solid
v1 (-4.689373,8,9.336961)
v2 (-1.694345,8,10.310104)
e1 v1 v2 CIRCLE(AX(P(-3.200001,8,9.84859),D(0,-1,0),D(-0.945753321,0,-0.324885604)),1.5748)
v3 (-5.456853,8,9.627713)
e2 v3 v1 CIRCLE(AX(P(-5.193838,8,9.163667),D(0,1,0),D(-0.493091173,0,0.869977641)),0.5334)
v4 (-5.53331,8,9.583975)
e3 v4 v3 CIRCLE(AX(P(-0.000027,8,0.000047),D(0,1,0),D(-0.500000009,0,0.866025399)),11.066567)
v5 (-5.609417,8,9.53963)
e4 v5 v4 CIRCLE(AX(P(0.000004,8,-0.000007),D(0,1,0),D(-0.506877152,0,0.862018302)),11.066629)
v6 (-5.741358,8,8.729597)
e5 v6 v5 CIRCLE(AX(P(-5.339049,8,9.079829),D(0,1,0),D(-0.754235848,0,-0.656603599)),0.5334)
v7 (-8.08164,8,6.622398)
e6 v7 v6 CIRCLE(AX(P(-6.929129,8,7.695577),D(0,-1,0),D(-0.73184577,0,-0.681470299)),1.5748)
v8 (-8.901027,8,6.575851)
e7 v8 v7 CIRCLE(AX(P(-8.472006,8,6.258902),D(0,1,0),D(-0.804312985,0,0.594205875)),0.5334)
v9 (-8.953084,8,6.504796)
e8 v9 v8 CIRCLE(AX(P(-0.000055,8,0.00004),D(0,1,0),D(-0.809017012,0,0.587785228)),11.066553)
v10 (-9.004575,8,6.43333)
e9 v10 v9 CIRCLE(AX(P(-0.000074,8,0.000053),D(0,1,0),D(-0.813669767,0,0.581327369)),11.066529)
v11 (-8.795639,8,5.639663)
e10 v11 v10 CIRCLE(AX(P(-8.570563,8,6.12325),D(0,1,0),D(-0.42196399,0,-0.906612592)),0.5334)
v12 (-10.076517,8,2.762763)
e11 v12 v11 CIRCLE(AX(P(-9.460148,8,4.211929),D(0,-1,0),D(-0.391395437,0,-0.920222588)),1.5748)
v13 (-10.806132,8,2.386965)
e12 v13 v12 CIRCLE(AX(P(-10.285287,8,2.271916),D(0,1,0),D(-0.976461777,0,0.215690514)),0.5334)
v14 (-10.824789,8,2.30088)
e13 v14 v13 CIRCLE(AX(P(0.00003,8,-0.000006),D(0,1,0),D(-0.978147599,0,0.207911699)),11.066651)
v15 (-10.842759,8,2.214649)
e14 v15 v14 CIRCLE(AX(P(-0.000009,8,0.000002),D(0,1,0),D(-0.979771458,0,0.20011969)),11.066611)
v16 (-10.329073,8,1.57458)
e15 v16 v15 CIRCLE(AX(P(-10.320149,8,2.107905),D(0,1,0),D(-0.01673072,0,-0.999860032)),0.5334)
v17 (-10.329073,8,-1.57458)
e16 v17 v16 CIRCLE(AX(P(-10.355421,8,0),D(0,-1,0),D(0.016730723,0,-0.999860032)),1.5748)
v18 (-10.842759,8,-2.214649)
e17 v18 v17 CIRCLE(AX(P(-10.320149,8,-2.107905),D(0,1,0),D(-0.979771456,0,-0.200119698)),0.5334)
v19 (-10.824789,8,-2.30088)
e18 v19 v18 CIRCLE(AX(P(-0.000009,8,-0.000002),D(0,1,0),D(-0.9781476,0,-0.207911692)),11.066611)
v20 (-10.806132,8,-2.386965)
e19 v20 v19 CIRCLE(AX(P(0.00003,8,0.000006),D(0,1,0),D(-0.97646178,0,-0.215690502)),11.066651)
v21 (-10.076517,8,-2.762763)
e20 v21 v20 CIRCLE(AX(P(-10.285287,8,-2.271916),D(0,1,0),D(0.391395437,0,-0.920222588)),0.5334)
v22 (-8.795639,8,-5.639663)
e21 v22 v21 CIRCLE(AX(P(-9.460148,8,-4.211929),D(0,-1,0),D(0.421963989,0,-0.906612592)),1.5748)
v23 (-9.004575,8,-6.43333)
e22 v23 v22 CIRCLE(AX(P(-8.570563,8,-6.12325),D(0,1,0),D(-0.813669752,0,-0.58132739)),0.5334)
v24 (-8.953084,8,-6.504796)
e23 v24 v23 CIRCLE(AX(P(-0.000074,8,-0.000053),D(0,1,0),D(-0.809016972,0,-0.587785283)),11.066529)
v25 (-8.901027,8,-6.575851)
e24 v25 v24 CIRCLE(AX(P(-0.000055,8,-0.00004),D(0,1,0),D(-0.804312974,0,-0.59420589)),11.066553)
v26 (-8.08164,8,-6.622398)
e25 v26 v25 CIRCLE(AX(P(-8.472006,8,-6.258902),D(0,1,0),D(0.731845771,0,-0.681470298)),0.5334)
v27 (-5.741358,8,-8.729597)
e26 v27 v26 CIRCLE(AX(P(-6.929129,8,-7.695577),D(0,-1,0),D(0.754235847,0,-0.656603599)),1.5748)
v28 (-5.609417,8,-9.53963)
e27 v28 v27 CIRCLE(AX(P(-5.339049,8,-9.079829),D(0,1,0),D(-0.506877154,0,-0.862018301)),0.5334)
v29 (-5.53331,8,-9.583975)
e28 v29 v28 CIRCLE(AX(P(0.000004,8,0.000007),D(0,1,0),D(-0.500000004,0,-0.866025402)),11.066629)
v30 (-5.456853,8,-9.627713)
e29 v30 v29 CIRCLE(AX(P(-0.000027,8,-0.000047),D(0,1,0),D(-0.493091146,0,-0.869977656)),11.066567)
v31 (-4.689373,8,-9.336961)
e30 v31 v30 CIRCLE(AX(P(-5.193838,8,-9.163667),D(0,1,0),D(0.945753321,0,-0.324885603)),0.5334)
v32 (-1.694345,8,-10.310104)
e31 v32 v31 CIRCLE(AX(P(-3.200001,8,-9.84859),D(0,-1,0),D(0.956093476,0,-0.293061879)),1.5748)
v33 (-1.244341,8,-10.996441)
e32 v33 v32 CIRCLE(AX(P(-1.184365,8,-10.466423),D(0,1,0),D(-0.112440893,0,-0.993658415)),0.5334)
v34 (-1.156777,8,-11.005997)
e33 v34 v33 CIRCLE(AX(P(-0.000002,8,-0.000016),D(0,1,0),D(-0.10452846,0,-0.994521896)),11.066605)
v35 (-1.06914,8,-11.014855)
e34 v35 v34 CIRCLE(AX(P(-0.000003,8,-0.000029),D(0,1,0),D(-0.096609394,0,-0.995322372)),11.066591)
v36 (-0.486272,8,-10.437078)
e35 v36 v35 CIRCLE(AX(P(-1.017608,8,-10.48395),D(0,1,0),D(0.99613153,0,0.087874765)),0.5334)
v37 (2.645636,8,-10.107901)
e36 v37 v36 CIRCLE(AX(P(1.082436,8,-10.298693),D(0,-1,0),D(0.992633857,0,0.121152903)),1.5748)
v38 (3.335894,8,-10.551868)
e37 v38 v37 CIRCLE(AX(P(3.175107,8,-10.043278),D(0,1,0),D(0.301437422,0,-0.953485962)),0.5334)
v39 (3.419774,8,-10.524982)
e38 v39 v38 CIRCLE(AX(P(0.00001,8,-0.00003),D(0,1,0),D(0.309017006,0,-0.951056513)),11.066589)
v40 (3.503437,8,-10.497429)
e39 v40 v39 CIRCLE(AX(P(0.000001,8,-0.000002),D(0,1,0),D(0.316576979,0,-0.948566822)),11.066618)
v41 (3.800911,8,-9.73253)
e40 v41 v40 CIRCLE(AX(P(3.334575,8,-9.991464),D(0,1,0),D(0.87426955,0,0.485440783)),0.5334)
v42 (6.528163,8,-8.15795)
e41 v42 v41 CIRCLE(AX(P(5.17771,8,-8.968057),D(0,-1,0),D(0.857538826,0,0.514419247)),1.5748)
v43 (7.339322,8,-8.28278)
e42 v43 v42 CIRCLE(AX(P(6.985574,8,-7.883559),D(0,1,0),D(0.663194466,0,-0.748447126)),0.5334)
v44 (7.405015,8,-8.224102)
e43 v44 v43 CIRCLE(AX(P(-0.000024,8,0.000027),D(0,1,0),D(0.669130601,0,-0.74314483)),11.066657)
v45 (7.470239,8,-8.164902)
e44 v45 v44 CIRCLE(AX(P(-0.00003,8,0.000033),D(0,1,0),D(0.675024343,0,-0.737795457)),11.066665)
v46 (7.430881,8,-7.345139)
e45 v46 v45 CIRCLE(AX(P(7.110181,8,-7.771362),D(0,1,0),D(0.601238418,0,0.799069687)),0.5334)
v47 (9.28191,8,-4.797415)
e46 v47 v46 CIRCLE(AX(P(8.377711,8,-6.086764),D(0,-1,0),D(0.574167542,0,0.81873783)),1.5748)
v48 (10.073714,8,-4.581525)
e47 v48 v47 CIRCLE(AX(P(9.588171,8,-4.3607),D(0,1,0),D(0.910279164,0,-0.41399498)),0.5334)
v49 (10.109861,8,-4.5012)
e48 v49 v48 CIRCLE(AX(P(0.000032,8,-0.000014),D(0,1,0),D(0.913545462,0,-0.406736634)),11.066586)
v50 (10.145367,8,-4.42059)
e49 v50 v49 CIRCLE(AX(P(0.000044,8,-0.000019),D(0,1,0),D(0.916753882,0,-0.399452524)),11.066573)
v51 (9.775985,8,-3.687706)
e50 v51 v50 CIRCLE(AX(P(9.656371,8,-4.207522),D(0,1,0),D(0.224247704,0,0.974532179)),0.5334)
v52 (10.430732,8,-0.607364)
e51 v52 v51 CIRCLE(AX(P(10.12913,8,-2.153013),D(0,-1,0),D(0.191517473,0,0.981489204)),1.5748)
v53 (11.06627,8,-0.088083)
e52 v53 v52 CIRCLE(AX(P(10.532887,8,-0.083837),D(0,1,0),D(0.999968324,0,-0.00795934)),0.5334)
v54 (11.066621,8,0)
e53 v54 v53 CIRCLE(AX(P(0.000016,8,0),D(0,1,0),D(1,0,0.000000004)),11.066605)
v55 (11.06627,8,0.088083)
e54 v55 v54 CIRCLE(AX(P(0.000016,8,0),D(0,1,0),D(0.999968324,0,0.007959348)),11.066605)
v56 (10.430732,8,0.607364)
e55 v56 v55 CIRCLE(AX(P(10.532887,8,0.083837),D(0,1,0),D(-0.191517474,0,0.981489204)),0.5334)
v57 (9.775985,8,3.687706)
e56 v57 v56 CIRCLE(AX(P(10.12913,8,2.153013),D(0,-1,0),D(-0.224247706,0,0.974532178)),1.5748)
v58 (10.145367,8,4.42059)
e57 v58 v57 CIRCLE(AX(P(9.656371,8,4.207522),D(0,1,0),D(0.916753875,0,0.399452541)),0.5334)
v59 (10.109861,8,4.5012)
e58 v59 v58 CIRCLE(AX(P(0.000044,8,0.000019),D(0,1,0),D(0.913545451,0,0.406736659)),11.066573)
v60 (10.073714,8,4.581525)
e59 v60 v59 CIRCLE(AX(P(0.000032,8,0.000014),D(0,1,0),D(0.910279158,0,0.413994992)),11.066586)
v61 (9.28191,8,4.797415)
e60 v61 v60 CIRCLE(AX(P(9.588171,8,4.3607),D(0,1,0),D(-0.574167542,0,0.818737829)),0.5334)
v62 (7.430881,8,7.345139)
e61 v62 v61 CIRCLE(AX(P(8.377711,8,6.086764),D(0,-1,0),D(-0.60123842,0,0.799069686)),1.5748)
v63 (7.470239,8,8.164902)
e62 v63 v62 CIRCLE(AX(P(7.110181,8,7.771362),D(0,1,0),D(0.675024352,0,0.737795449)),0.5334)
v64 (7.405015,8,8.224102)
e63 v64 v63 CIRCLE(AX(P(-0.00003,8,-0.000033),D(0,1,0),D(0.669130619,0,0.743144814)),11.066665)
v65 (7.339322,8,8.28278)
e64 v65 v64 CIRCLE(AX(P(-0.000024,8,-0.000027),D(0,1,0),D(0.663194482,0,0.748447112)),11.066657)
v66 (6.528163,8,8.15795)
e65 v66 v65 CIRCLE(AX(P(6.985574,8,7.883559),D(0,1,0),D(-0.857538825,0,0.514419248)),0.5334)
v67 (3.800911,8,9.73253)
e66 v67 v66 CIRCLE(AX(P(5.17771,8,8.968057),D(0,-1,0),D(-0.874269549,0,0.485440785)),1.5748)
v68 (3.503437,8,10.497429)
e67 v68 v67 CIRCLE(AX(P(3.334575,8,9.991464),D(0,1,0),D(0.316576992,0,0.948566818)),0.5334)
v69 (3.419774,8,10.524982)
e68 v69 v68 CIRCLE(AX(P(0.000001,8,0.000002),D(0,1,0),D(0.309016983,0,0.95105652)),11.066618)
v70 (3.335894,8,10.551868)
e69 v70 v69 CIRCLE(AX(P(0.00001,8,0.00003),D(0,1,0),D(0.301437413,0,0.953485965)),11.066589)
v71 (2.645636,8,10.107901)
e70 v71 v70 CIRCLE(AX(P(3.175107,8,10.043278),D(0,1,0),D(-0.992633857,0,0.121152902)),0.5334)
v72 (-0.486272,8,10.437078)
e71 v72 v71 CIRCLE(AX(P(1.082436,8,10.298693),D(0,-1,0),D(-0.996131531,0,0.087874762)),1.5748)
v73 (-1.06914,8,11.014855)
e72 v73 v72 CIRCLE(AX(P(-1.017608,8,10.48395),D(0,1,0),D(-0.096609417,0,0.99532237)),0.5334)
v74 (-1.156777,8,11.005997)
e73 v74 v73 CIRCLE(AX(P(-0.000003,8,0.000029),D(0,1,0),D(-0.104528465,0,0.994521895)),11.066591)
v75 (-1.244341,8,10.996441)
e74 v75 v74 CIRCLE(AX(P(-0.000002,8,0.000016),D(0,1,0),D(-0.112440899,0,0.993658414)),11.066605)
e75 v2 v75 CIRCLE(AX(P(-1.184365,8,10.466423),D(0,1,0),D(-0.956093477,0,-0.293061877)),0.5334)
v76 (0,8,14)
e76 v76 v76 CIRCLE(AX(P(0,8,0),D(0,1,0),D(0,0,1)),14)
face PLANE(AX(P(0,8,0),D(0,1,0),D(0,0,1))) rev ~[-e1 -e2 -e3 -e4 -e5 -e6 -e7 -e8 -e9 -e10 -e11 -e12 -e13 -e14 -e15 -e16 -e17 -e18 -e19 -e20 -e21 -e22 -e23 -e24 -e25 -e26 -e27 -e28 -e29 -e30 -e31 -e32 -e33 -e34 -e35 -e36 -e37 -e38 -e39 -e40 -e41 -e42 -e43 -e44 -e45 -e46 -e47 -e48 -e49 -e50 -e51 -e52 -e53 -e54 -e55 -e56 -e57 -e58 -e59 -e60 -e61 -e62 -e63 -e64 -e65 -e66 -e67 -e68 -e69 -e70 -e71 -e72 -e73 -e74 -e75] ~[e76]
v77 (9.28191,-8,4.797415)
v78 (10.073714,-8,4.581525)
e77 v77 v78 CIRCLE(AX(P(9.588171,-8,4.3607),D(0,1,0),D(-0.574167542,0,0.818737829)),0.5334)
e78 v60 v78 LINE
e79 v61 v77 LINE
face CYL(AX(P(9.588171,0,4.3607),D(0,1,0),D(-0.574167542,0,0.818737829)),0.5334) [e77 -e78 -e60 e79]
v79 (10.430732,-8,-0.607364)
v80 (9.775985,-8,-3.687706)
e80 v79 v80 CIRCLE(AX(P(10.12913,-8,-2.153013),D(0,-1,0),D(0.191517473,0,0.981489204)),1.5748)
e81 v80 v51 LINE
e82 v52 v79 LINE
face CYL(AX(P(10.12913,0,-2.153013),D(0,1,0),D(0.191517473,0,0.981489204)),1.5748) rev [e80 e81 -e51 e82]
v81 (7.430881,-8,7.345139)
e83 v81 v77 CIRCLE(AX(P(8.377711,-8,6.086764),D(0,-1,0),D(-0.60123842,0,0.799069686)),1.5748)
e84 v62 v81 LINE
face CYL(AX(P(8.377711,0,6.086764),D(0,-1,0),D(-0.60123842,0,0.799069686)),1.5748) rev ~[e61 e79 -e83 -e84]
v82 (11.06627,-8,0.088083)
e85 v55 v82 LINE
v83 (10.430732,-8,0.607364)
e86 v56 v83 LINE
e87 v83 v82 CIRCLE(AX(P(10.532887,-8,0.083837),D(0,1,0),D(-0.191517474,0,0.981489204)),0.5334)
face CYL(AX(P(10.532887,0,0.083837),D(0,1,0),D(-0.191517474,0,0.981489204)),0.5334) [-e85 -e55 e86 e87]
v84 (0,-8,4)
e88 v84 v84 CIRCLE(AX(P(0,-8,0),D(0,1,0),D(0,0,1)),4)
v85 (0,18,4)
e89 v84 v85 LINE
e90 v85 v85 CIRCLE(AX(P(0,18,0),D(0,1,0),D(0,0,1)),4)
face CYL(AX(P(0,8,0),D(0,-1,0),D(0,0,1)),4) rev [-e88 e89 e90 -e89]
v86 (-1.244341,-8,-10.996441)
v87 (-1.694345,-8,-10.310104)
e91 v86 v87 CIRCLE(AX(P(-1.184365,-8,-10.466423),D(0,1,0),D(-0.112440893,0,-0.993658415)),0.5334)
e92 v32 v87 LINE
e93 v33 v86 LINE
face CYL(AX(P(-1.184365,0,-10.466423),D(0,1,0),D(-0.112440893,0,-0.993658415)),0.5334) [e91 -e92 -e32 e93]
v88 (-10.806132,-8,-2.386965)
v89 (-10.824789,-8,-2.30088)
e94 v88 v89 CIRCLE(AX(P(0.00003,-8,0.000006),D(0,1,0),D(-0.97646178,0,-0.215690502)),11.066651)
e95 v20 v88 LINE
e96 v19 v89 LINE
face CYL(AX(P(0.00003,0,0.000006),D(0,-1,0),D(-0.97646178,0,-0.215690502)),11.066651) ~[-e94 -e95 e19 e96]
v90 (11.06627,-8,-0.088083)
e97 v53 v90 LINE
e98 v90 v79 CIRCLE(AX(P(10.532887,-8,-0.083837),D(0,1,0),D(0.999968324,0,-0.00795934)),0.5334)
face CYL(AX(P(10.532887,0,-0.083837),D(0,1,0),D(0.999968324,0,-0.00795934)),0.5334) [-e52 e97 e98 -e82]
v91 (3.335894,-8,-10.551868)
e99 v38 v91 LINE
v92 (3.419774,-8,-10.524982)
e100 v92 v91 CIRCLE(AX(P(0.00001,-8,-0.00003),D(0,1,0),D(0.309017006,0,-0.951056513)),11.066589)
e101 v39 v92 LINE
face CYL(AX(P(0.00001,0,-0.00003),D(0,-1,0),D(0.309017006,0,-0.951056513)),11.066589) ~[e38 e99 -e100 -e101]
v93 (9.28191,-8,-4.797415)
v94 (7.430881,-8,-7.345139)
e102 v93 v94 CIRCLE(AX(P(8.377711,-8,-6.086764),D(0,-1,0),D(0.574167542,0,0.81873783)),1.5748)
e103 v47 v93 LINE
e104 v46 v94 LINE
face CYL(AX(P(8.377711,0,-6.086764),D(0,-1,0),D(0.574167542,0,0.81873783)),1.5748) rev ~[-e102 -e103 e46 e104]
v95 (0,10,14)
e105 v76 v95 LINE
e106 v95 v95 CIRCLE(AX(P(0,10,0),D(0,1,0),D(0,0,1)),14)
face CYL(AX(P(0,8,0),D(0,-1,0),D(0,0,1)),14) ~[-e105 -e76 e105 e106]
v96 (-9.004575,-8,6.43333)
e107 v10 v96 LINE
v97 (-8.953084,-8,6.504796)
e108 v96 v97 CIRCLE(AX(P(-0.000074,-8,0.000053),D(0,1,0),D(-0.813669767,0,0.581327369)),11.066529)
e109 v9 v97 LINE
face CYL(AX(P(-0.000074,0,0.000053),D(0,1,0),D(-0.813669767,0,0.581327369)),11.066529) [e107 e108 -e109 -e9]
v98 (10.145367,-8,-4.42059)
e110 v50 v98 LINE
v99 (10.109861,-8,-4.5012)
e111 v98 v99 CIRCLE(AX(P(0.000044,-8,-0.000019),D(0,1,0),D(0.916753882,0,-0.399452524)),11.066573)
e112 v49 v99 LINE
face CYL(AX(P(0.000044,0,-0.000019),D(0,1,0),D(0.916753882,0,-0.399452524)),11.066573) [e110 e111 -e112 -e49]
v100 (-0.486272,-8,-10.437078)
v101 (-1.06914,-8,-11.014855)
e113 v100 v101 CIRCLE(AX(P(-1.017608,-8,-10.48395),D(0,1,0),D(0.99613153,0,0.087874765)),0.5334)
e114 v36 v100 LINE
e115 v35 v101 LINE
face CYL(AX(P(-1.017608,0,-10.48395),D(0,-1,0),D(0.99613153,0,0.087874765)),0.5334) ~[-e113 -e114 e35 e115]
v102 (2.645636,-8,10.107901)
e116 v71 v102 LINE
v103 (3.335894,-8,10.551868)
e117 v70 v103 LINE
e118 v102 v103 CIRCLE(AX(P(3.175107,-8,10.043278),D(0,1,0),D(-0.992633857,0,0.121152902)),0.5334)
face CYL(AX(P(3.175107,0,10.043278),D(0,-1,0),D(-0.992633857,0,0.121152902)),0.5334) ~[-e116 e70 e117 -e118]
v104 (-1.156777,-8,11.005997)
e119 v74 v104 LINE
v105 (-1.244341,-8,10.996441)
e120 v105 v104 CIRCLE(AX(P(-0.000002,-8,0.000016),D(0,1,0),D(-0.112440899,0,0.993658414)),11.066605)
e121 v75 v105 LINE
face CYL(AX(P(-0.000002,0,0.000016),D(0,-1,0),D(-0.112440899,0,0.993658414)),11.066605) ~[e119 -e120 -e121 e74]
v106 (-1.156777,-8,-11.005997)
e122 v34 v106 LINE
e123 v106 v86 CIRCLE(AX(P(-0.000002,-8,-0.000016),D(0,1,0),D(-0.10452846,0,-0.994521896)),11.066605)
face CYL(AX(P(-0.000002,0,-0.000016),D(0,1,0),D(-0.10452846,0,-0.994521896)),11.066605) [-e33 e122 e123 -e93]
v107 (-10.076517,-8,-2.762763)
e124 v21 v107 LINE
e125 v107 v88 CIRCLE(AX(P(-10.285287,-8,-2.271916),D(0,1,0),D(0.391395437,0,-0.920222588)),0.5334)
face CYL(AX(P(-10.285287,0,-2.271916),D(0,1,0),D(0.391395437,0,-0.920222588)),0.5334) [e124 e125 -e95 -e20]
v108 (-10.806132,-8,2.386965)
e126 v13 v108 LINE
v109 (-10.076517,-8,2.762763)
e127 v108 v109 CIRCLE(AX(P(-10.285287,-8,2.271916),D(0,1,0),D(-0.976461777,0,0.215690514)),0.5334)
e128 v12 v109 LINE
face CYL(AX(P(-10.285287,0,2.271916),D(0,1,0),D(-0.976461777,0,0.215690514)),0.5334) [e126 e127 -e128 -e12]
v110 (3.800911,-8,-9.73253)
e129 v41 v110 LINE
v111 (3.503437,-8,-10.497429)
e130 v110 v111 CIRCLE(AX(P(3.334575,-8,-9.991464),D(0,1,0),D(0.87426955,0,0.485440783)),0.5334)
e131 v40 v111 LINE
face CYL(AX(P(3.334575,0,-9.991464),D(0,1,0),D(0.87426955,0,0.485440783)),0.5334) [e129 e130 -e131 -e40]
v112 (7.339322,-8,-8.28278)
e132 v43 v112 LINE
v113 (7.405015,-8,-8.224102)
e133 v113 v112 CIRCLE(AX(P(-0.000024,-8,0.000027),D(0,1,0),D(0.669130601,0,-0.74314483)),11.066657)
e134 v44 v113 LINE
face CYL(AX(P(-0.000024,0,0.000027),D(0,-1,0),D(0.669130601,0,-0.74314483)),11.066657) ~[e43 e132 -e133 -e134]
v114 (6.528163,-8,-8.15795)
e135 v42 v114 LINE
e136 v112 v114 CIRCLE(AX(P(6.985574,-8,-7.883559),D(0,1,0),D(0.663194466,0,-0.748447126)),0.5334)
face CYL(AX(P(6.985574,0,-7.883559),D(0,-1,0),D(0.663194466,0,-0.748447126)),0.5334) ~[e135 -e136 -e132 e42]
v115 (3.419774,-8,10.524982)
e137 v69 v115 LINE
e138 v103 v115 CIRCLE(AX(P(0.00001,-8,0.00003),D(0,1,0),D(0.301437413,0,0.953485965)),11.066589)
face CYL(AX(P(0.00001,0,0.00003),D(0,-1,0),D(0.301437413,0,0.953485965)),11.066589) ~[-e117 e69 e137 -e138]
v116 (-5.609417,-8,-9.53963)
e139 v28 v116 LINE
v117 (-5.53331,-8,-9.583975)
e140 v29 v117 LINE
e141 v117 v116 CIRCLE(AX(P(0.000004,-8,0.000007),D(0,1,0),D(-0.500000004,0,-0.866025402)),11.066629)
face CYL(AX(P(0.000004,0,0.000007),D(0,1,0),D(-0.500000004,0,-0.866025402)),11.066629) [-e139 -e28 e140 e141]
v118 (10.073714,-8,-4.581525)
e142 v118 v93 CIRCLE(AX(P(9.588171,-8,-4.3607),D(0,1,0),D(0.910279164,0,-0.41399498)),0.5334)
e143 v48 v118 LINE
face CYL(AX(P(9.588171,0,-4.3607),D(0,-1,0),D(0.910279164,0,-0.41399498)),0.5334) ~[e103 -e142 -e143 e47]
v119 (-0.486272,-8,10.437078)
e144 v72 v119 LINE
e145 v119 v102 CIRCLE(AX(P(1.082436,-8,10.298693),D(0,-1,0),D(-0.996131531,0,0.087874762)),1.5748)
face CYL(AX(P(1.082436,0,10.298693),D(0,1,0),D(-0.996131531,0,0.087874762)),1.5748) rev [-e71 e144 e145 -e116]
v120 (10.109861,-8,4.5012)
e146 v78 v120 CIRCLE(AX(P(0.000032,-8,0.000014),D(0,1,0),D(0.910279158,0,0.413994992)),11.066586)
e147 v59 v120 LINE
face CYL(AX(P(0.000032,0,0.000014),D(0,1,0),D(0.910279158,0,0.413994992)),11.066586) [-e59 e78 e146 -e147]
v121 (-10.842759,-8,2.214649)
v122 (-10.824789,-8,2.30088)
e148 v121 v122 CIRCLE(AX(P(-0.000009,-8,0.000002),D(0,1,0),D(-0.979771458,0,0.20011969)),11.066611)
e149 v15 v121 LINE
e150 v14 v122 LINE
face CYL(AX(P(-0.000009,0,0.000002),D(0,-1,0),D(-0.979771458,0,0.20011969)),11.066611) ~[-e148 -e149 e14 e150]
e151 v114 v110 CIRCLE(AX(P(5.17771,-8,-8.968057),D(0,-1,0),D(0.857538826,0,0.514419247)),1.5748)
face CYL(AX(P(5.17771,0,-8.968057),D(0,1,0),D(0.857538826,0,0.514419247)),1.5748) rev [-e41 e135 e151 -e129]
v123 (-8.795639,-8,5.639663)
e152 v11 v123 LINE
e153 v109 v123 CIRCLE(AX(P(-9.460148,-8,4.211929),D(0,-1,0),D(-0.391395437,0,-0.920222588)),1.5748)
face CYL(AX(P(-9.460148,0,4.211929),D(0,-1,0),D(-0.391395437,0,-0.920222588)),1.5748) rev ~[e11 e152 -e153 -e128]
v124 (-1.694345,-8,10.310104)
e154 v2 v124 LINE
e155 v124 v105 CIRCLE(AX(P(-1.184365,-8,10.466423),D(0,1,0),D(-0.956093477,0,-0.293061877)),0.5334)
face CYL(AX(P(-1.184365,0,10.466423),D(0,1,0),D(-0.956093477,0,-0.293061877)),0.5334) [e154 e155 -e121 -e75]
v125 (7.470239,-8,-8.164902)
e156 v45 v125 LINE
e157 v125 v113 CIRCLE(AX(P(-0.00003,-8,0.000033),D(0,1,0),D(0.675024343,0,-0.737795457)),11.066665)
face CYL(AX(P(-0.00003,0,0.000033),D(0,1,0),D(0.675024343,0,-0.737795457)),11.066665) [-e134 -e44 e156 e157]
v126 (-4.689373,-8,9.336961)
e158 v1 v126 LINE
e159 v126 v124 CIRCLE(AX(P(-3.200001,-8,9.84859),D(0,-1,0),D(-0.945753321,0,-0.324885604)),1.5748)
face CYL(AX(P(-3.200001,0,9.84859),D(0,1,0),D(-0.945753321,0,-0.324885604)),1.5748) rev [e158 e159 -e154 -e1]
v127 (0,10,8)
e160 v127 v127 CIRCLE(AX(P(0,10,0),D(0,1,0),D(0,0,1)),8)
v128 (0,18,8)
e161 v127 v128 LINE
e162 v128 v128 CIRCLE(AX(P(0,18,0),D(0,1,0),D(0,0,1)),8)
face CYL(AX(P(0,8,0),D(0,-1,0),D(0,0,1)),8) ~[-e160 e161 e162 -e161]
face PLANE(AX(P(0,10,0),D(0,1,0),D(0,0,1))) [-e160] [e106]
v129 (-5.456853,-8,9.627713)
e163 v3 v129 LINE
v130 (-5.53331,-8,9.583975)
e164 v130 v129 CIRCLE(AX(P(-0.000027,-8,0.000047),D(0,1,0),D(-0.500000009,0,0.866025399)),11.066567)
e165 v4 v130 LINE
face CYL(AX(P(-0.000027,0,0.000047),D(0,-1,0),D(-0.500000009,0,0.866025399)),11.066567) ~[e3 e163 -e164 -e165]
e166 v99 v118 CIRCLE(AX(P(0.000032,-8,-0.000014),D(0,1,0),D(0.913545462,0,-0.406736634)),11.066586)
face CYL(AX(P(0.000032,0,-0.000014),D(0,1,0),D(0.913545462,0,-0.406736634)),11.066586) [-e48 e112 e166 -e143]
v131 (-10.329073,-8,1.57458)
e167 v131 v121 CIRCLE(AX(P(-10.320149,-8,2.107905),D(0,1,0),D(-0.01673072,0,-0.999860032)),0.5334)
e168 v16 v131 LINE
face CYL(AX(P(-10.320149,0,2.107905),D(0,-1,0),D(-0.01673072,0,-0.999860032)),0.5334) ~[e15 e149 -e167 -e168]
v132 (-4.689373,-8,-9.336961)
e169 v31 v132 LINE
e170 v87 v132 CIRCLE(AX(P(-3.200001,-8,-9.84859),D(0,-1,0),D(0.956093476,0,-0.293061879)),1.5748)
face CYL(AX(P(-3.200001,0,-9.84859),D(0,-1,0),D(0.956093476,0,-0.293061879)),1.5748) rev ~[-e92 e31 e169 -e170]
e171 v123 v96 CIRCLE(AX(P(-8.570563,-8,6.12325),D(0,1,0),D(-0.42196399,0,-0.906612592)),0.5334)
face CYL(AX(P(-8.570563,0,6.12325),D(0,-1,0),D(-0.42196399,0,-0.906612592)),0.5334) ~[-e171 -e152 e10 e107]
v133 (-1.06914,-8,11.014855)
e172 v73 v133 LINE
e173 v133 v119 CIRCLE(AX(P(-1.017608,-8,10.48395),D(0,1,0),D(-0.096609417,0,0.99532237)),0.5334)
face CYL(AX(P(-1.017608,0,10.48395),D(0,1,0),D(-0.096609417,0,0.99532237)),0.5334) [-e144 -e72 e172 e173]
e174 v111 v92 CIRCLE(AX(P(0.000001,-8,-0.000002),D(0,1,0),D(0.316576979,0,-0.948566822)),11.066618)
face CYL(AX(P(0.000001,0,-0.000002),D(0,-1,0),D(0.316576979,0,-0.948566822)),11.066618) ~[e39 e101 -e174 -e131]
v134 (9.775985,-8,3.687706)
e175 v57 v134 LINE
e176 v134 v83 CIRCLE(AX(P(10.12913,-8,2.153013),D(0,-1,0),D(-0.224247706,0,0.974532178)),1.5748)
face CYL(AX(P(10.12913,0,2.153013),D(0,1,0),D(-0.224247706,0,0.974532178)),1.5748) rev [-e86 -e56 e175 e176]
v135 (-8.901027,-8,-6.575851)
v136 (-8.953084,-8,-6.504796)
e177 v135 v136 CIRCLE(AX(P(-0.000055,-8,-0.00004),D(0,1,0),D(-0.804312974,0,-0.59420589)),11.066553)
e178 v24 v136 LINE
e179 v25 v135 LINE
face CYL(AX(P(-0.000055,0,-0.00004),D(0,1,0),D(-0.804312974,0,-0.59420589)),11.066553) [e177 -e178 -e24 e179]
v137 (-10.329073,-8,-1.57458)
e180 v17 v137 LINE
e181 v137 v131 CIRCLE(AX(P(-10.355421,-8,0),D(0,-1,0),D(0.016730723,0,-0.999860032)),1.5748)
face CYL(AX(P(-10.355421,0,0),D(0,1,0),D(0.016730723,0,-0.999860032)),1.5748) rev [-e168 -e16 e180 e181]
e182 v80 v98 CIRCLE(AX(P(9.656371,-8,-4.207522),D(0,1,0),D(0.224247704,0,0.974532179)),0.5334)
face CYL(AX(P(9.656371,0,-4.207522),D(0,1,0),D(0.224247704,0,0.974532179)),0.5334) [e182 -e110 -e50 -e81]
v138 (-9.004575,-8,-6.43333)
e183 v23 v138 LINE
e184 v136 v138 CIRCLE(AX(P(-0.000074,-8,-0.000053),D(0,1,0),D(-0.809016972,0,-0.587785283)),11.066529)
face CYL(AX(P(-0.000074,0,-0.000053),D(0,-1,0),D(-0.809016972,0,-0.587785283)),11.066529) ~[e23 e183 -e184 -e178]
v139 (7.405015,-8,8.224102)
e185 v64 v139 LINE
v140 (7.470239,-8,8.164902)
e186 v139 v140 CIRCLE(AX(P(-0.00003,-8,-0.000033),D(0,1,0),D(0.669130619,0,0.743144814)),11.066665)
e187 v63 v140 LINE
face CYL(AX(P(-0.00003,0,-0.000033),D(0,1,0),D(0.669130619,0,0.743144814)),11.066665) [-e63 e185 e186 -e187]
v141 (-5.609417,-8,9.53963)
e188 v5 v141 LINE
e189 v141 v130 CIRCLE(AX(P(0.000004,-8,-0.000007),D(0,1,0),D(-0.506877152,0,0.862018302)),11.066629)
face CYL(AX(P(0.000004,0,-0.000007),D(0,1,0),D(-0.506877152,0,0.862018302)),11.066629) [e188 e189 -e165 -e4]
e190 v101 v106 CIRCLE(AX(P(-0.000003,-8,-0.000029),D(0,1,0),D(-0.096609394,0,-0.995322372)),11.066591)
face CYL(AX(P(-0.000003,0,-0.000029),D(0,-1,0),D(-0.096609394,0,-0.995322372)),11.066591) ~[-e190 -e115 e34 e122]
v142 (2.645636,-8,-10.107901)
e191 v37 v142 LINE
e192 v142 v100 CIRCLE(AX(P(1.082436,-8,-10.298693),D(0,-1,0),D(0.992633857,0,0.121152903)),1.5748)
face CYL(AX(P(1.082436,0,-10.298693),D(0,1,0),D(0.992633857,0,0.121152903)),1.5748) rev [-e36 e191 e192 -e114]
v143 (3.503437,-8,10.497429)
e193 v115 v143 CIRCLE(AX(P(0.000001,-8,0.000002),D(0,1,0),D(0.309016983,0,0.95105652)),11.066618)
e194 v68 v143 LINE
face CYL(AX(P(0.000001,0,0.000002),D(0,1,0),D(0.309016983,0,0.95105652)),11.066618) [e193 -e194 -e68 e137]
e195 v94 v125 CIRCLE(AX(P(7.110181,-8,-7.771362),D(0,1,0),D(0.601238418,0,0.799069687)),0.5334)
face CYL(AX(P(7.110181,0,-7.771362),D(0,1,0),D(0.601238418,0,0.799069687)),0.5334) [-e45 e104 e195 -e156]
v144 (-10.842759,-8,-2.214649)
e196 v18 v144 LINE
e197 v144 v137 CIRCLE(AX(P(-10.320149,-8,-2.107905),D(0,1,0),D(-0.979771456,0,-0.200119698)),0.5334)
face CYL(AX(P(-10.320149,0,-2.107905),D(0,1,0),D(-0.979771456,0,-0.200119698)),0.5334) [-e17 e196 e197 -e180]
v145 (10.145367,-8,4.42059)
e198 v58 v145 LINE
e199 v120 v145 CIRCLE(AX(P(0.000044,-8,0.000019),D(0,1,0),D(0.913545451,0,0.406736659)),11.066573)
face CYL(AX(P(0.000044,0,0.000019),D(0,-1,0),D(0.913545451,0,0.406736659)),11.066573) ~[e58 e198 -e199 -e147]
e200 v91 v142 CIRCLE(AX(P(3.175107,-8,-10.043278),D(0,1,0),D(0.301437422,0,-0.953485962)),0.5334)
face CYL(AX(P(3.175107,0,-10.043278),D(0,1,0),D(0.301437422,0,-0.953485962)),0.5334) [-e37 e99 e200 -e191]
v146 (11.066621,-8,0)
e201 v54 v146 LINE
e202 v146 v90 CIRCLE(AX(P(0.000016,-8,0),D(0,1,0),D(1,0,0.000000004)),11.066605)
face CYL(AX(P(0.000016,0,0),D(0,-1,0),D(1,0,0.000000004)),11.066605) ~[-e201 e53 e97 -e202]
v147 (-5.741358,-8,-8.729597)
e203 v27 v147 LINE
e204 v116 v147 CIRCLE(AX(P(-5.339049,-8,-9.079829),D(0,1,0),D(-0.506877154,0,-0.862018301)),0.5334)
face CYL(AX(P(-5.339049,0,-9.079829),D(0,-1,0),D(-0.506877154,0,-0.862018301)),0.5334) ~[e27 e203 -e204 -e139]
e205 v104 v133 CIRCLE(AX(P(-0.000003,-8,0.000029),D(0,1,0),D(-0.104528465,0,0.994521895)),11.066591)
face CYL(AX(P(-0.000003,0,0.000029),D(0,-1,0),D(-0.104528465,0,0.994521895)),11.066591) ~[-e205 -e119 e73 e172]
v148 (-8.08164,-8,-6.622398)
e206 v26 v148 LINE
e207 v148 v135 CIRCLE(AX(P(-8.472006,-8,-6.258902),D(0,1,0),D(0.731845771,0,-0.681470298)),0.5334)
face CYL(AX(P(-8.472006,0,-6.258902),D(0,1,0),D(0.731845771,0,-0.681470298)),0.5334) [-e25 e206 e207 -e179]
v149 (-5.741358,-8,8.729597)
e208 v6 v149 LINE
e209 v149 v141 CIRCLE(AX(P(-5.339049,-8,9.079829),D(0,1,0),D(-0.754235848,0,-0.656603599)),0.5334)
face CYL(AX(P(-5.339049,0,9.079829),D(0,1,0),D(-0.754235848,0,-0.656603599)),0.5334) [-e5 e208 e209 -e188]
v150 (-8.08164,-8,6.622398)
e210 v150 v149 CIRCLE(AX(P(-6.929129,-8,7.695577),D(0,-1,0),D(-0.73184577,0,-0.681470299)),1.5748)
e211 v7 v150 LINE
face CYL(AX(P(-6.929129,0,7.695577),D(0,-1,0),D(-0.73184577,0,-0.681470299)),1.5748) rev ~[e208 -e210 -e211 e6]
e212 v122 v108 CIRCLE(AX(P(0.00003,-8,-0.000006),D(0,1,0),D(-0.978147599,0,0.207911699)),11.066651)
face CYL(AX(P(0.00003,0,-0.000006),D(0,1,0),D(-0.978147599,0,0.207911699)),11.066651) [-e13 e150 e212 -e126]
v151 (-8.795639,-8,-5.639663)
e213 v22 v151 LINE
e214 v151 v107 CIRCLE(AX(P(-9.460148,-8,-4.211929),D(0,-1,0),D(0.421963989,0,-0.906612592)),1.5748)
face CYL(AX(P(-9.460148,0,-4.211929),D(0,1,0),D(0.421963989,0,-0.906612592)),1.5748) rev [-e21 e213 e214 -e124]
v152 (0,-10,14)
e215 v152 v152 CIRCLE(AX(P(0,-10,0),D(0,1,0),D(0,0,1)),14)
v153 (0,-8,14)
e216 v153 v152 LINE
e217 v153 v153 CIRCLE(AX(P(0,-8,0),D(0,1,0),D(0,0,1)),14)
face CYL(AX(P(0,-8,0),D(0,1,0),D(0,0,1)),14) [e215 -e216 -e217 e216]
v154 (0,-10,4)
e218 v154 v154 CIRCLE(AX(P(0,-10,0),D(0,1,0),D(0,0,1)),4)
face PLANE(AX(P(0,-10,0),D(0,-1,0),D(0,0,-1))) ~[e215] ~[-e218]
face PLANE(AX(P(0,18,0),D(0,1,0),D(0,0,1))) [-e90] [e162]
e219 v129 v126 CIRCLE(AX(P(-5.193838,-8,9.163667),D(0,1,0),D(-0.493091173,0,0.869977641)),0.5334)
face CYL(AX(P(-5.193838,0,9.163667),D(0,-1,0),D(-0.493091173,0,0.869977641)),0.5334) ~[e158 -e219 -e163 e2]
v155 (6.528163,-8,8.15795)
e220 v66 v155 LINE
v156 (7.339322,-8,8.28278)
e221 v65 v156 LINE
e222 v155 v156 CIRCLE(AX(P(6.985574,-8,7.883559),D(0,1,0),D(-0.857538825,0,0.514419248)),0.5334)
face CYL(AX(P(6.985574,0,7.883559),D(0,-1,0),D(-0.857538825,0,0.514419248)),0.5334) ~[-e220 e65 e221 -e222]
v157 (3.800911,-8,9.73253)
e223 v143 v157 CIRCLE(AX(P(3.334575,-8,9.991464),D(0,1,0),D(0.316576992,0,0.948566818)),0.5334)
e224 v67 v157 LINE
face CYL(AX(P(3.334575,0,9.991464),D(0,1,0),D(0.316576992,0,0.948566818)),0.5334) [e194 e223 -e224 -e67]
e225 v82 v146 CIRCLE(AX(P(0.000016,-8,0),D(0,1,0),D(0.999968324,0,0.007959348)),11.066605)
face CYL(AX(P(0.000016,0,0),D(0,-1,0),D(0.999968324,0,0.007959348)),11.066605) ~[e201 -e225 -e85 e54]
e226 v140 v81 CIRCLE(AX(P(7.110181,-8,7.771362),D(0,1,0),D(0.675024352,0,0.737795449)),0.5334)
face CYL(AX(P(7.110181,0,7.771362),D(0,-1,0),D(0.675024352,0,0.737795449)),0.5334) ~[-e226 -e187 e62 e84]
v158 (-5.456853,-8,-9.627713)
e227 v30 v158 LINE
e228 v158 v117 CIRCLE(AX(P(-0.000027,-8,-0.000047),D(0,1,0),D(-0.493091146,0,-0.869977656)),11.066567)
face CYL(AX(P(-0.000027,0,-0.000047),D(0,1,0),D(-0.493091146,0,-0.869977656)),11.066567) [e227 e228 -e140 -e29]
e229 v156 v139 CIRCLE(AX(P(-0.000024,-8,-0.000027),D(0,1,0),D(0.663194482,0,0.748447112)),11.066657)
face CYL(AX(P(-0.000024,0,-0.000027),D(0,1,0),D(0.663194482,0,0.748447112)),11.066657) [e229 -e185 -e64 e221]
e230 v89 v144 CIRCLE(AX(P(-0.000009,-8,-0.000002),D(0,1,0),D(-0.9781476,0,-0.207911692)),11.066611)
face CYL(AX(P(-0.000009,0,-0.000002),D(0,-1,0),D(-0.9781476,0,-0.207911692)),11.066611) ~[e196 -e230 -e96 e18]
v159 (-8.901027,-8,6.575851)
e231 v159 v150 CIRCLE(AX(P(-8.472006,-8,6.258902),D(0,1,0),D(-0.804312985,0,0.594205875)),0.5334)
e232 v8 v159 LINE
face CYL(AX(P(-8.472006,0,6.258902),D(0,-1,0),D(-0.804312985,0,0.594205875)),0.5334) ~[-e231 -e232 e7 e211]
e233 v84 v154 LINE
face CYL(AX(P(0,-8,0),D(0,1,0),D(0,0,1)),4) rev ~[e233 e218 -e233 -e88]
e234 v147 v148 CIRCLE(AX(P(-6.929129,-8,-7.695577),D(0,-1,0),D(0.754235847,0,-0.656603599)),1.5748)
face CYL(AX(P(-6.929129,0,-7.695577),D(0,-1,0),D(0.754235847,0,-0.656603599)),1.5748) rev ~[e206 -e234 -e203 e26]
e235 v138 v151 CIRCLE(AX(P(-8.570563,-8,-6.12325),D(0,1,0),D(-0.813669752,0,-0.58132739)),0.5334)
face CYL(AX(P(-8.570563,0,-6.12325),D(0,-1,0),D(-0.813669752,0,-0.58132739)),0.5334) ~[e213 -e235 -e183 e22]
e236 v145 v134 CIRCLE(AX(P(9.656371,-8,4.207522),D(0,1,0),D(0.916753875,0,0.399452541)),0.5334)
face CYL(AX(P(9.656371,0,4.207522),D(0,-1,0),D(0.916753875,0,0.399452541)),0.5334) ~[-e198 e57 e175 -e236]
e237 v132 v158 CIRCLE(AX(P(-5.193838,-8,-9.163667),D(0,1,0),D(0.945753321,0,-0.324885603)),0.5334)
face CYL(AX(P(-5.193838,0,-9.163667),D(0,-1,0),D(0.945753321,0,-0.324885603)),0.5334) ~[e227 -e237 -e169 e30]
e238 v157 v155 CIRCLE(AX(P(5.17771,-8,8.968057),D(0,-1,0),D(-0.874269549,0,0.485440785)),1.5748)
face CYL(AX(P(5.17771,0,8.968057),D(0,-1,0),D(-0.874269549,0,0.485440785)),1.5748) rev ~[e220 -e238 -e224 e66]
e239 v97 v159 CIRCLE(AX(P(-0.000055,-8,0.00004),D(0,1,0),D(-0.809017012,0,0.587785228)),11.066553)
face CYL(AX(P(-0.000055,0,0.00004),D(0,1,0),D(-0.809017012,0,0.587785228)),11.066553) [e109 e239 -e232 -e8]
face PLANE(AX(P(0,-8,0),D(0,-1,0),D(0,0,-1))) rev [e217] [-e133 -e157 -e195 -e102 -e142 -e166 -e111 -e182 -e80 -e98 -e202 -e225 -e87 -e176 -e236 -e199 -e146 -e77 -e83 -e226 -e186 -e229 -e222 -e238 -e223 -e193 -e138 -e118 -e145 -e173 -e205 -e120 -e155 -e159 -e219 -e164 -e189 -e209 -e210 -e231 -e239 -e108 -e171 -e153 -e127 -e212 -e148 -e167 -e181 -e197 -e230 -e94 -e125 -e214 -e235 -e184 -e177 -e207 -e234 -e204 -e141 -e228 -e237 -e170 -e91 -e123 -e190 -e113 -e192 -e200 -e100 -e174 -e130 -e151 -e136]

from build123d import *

# Parameters (mm, degrees)
SKETCH1_R           = 4
BOSS_EXTRUDE1_DEPTH = 8
SKETCH2_R           = 8
SKETCH2_R_2         = 4
BOSS_EXTRUDE2_DEPTH = 10
SKETCH2_3_R         = 14
SKETCH2_3_R_2       = 4
BOSS_EXTRUDE3_DEPTH = 2


with BuildPart() as part:
    # Sketch1 → Boss-Extrude1 (new, symmetric)
    with BuildSketch(Plane(origin=(0, 0, 0), x_dir=(1, 0, 0), z_dir=(0, 1, 0))):
        with BuildLine():
            ThreePointArc((10.430731661, 0.607363835), (8.588743102, 1.825593703), (9.775984656, 3.687706308))
            ThreePointArc((9.775984656, 3.687706308), (10.132691352, 3.967450083), (10.145367447, 4.420589756))
            ThreePointArc((10.145367447, 4.420589756), (10.127694476, 4.460930288), (10.109861101, 4.501200167))
            ThreePointArc((10.109861101, 4.501200167), (10.091867606, 4.541398755), (10.073714274, 4.581525417))
            ThreePointArc((10.073714274, 4.581525417), (9.728483908, 4.875314866), (9.281910401, 4.797415253))
            ThreePointArc((9.281910401, 4.797415253), (7.103671393, 5.161119372), (7.430881092, 7.345138528))
            ThreePointArc((7.430881092, 7.345138528), (7.64296683, 7.745782868), (7.470238509, 8.16490239))
            ThreePointArc((7.470238509, 8.16490239), (7.437685474, 8.194567054), (7.405014641, 8.224101932))
            ThreePointArc((7.405014641, 8.224101932), (7.372226526, 8.253506556), (7.339321649, 8.282780461))
            ThreePointArc((7.339321649, 8.282780461), (6.904443081, 8.410752637), (6.52816251, 8.157949991))
            ThreePointArc((6.52816251, 8.157949991), (4.390310366, 7.604240615), (3.80091068, 9.732529569))
            ThreePointArc((3.80091068, 9.732529569), (3.831703908, 10.184799426), (3.503437469, 10.497429225))
            ThreePointArc((3.503437469, 10.497429225), (3.461633085, 10.511288732), (3.419773876, 10.52498176))
            ThreePointArc((3.419773876, 10.52498176), (3.377860505, 10.538508093), (3.335893634, 10.551867516))
            ThreePointArc((3.335893634, 10.551867516), (2.886561321, 10.491894868), (2.645636014, 10.107901062))
            ThreePointArc((2.645636014, 10.107901062), (0.917824792, 8.732519573), (-0.486271719, 10.43707783))
            ThreePointArc((-0.486271719, 10.43707783), (-0.642095428, 10.862771638), (-1.069139738, 11.01485518))
            ThreePointArc((-1.069139738, 11.01485518), (-1.112967112, 11.010513096), (-1.156776859, 11.005996626))
            ThreePointArc((-1.156776859, 11.005996626), (-1.200568284, 11.001305842), (-1.244340695, 10.996440818))
            ThreePointArc((-1.244340695, 10.996440818), (-1.630433115, 10.758893161), (-1.694344984, 10.310104213))
            ThreePointArc((-1.694344984, 10.310104213), (-2.713361027, 8.350866564), (-4.68937332, 9.336960516))
            ThreePointArc((-4.68937332, 9.336960516), (-5.004870632, 9.662471948), (-5.456852971, 9.627712608))
            ThreePointArc((-5.456852971, 9.627712608), (-5.495125185, 9.605919718), (-5.533310366, 9.583974688))
            ThreePointArc((-5.533310366, 9.583974688), (-5.57140791, 9.561877866), (-5.609417214, 9.539629602))
            ThreePointArc((-5.609417214, 9.539629602), (-5.865510854, 9.165581084), (-5.741358341, 8.729596681))
            ThreePointArc((-5.741358341, 8.729596681), (-5.875382075, 6.525272861), (-8.081639672, 6.622397905))
            ThreePointArc((-8.081639672, 6.622397905), (-8.502258236, 6.791443078), (-8.901026752, 6.575851062))
            ThreePointArc((-8.901026752, 6.575851062), (-8.927126192, 6.540375554), (-8.953084242, 6.504796459))
            ThreePointArc((-8.953084242, 6.504796459), (-8.978900494, 6.469114341), (-9.004574536, 6.433329764))
            ThreePointArc((-9.004574536, 6.433329764), (-9.086388479, 5.987456771), (-8.795638682, 5.639662576))
            ThreePointArc((-8.795638682, 5.639662576), (-8.021496185, 3.571400201), (-10.076517106, 2.762762534))
            ThreePointArc((-10.076517106, 2.762762534), (-10.52952815, 2.746112001), (-10.806132144, 2.386965126))
            ThreePointArc((-10.806132144, 2.386965126), (-10.815545979, 2.343941039), (-10.824788517, 2.300879828))
            ThreePointArc((-10.824788517, 2.300879828), (-10.833859611, 2.257782175), (-10.842759117, 2.214648764))
            ThreePointArc((-10.842759117, 2.214648764), (-10.73614699, 1.774046788), (-10.32907319, 1.574579578))
            ThreePointArc((-10.32907319, 1.574579578), (-8.780620732, 0), (-10.32907319, -1.574579578))
            ThreePointArc((-10.32907319, -1.574579578), (-10.73614699, -1.774046788), (-10.842759117, -2.214648764))
            ThreePointArc((-10.842759117, -2.214648764), (-10.833859611, -2.257782175), (-10.824788517, -2.300879828))
            ThreePointArc((-10.824788517, -2.300879828), (-10.815545979, -2.343941039), (-10.806132144, -2.386965126))
            ThreePointArc((-10.806132144, -2.386965126), (-10.52952815, -2.746112001), (-10.076517106, -2.762762534))
            ThreePointArc((-10.076517106, -2.762762534), (-8.021496185, -3.571400201), (-8.795638682, -5.639662576))
            ThreePointArc((-8.795638682, -5.639662576), (-9.086388479, -5.987456771), (-9.004574536, -6.433329764))
            ThreePointArc((-9.004574536, -6.433329764), (-8.978900494, -6.469114341), (-8.953084242, -6.504796459))
            ThreePointArc((-8.953084242, -6.504796459), (-8.927126192, -6.540375554), (-8.901026752, -6.575851062))
            ThreePointArc((-8.901026752, -6.575851062), (-8.502258236, -6.791443078), (-8.081639672, -6.622397905))
            ThreePointArc((-8.081639672, -6.622397905), (-5.875382075, -6.525272861), (-5.741358341, -8.729596681))
            ThreePointArc((-5.741358341, -8.729596681), (-5.865510854, -9.165581084), (-5.609417214, -9.539629602))
            ThreePointArc((-5.609417214, -9.539629602), (-5.57140791, -9.561877866), (-5.533310366, -9.583974688))
            ThreePointArc((-5.533310366, -9.583974688), (-5.495125185, -9.605919718), (-5.456852971, -9.627712608))
            ThreePointArc((-5.456852971, -9.627712608), (-5.004870632, -9.662471948), (-4.68937332, -9.336960516))
            ThreePointArc((-4.68937332, -9.336960516), (-2.713361027, -8.350866564), (-1.694344984, -10.310104213))
            ThreePointArc((-1.694344984, -10.310104213), (-1.630433115, -10.758893161), (-1.244340695, -10.996440818))
            ThreePointArc((-1.244340695, -10.996440818), (-1.200568284, -11.001305842), (-1.156776859, -11.005996626))
            ThreePointArc((-1.156776859, -11.005996626), (-1.112967112, -11.010513096), (-1.069139738, -11.01485518))
            ThreePointArc((-1.069139738, -11.01485518), (-0.642095428, -10.862771638), (-0.486271719, -10.43707783))
            ThreePointArc((-0.486271719, -10.43707783), (0.917824792, -8.732519573), (2.645636014, -10.107901062))
            ThreePointArc((2.645636014, -10.107901062), (2.886561321, -10.491894868), (3.335893634, -10.551867516))
            ThreePointArc((3.335893634, -10.551867516), (3.377860505, -10.538508093), (3.419773876, -10.52498176))
            ThreePointArc((3.419773876, -10.52498176), (3.461633085, -10.511288732), (3.503437469, -10.497429225))
            ThreePointArc((3.503437469, -10.497429225), (3.831703908, -10.184799426), (3.80091068, -9.732529569))
            ThreePointArc((3.80091068, -9.732529569), (4.390310366, -7.604240615), (6.52816251, -8.157949991))
            ThreePointArc((6.52816251, -8.157949991), (6.904443081, -8.410752637), (7.339321649, -8.282780461))
            ThreePointArc((7.339321649, -8.282780461), (7.372226526, -8.253506556), (7.405014641, -8.224101932))
            ThreePointArc((7.405014641, -8.224101932), (7.437685474, -8.194567054), (7.470238509, -8.16490239))
            ThreePointArc((7.470238509, -8.16490239), (7.64296683, -7.745782868), (7.430881092, -7.345138528))
            ThreePointArc((7.430881092, -7.345138528), (7.103671393, -5.161119372), (9.281910401, -4.797415253))
            ThreePointArc((9.281910401, -4.797415253), (9.728483908, -4.875314866), (10.073714274, -4.581525417))
            ThreePointArc((10.073714274, -4.581525417), (10.091867606, -4.541398755), (10.109861101, -4.501200167))
            ThreePointArc((10.109861101, -4.501200167), (10.127694476, -4.460930288), (10.145367447, -4.420589756))
            ThreePointArc((10.145367447, -4.420589756), (10.132691352, -3.967450083), (9.775984656, -3.687706308))
            ThreePointArc((9.775984656, -3.687706308), (8.588743102, -1.825593703), (10.430731661, -0.607363835))
            ThreePointArc((10.430731661, -0.607363835), (10.870381486, -0.496890864), (11.066270185, -0.088083006))
            ThreePointArc((11.066270185, -0.088083006), (11.066533095, -0.044041852), (11.066620732, 0))
            ThreePointArc((11.066620732, 0), (11.066533095, 0.044041852), (11.066270185, 0.088083006))
            ThreePointArc((11.066270185, 0.088083006), (10.870381486, 0.496890864), (10.430731661, 0.607363835))
        make_face()
        Circle(SKETCH1_R, mode=Mode.SUBTRACT)
    extrude(amount=BOSS_EXTRUDE1_DEPTH, both=True)

    # Sketch2 → Boss-Extrude2 (add)
    with BuildSketch(Plane(origin=(0, 8, 0), x_dir=(1, 0, 0), z_dir=(0, 1, 0))):
        Circle(SKETCH2_R)
        Circle(SKETCH2_R_2, mode=Mode.SUBTRACT)
    extrude(amount=BOSS_EXTRUDE2_DEPTH)

    # Sketch2<3> → Boss-Extrude3 (add)
    with BuildSketch(Plane(origin=(0, 8, 0), x_dir=(1, 0, 0), z_dir=(0, 1, 0))):
        Circle(SKETCH2_3_R)
        Circle(SKETCH2_3_R_2, mode=Mode.SUBTRACT)
    boss_extrude3 = extrude(amount=BOSS_EXTRUDE3_DEPTH)

    # Mirror1: Boss-Extrude3 across plane
    add(boss_extrude3.mirror(Plane.ZX))


solid = part.part
